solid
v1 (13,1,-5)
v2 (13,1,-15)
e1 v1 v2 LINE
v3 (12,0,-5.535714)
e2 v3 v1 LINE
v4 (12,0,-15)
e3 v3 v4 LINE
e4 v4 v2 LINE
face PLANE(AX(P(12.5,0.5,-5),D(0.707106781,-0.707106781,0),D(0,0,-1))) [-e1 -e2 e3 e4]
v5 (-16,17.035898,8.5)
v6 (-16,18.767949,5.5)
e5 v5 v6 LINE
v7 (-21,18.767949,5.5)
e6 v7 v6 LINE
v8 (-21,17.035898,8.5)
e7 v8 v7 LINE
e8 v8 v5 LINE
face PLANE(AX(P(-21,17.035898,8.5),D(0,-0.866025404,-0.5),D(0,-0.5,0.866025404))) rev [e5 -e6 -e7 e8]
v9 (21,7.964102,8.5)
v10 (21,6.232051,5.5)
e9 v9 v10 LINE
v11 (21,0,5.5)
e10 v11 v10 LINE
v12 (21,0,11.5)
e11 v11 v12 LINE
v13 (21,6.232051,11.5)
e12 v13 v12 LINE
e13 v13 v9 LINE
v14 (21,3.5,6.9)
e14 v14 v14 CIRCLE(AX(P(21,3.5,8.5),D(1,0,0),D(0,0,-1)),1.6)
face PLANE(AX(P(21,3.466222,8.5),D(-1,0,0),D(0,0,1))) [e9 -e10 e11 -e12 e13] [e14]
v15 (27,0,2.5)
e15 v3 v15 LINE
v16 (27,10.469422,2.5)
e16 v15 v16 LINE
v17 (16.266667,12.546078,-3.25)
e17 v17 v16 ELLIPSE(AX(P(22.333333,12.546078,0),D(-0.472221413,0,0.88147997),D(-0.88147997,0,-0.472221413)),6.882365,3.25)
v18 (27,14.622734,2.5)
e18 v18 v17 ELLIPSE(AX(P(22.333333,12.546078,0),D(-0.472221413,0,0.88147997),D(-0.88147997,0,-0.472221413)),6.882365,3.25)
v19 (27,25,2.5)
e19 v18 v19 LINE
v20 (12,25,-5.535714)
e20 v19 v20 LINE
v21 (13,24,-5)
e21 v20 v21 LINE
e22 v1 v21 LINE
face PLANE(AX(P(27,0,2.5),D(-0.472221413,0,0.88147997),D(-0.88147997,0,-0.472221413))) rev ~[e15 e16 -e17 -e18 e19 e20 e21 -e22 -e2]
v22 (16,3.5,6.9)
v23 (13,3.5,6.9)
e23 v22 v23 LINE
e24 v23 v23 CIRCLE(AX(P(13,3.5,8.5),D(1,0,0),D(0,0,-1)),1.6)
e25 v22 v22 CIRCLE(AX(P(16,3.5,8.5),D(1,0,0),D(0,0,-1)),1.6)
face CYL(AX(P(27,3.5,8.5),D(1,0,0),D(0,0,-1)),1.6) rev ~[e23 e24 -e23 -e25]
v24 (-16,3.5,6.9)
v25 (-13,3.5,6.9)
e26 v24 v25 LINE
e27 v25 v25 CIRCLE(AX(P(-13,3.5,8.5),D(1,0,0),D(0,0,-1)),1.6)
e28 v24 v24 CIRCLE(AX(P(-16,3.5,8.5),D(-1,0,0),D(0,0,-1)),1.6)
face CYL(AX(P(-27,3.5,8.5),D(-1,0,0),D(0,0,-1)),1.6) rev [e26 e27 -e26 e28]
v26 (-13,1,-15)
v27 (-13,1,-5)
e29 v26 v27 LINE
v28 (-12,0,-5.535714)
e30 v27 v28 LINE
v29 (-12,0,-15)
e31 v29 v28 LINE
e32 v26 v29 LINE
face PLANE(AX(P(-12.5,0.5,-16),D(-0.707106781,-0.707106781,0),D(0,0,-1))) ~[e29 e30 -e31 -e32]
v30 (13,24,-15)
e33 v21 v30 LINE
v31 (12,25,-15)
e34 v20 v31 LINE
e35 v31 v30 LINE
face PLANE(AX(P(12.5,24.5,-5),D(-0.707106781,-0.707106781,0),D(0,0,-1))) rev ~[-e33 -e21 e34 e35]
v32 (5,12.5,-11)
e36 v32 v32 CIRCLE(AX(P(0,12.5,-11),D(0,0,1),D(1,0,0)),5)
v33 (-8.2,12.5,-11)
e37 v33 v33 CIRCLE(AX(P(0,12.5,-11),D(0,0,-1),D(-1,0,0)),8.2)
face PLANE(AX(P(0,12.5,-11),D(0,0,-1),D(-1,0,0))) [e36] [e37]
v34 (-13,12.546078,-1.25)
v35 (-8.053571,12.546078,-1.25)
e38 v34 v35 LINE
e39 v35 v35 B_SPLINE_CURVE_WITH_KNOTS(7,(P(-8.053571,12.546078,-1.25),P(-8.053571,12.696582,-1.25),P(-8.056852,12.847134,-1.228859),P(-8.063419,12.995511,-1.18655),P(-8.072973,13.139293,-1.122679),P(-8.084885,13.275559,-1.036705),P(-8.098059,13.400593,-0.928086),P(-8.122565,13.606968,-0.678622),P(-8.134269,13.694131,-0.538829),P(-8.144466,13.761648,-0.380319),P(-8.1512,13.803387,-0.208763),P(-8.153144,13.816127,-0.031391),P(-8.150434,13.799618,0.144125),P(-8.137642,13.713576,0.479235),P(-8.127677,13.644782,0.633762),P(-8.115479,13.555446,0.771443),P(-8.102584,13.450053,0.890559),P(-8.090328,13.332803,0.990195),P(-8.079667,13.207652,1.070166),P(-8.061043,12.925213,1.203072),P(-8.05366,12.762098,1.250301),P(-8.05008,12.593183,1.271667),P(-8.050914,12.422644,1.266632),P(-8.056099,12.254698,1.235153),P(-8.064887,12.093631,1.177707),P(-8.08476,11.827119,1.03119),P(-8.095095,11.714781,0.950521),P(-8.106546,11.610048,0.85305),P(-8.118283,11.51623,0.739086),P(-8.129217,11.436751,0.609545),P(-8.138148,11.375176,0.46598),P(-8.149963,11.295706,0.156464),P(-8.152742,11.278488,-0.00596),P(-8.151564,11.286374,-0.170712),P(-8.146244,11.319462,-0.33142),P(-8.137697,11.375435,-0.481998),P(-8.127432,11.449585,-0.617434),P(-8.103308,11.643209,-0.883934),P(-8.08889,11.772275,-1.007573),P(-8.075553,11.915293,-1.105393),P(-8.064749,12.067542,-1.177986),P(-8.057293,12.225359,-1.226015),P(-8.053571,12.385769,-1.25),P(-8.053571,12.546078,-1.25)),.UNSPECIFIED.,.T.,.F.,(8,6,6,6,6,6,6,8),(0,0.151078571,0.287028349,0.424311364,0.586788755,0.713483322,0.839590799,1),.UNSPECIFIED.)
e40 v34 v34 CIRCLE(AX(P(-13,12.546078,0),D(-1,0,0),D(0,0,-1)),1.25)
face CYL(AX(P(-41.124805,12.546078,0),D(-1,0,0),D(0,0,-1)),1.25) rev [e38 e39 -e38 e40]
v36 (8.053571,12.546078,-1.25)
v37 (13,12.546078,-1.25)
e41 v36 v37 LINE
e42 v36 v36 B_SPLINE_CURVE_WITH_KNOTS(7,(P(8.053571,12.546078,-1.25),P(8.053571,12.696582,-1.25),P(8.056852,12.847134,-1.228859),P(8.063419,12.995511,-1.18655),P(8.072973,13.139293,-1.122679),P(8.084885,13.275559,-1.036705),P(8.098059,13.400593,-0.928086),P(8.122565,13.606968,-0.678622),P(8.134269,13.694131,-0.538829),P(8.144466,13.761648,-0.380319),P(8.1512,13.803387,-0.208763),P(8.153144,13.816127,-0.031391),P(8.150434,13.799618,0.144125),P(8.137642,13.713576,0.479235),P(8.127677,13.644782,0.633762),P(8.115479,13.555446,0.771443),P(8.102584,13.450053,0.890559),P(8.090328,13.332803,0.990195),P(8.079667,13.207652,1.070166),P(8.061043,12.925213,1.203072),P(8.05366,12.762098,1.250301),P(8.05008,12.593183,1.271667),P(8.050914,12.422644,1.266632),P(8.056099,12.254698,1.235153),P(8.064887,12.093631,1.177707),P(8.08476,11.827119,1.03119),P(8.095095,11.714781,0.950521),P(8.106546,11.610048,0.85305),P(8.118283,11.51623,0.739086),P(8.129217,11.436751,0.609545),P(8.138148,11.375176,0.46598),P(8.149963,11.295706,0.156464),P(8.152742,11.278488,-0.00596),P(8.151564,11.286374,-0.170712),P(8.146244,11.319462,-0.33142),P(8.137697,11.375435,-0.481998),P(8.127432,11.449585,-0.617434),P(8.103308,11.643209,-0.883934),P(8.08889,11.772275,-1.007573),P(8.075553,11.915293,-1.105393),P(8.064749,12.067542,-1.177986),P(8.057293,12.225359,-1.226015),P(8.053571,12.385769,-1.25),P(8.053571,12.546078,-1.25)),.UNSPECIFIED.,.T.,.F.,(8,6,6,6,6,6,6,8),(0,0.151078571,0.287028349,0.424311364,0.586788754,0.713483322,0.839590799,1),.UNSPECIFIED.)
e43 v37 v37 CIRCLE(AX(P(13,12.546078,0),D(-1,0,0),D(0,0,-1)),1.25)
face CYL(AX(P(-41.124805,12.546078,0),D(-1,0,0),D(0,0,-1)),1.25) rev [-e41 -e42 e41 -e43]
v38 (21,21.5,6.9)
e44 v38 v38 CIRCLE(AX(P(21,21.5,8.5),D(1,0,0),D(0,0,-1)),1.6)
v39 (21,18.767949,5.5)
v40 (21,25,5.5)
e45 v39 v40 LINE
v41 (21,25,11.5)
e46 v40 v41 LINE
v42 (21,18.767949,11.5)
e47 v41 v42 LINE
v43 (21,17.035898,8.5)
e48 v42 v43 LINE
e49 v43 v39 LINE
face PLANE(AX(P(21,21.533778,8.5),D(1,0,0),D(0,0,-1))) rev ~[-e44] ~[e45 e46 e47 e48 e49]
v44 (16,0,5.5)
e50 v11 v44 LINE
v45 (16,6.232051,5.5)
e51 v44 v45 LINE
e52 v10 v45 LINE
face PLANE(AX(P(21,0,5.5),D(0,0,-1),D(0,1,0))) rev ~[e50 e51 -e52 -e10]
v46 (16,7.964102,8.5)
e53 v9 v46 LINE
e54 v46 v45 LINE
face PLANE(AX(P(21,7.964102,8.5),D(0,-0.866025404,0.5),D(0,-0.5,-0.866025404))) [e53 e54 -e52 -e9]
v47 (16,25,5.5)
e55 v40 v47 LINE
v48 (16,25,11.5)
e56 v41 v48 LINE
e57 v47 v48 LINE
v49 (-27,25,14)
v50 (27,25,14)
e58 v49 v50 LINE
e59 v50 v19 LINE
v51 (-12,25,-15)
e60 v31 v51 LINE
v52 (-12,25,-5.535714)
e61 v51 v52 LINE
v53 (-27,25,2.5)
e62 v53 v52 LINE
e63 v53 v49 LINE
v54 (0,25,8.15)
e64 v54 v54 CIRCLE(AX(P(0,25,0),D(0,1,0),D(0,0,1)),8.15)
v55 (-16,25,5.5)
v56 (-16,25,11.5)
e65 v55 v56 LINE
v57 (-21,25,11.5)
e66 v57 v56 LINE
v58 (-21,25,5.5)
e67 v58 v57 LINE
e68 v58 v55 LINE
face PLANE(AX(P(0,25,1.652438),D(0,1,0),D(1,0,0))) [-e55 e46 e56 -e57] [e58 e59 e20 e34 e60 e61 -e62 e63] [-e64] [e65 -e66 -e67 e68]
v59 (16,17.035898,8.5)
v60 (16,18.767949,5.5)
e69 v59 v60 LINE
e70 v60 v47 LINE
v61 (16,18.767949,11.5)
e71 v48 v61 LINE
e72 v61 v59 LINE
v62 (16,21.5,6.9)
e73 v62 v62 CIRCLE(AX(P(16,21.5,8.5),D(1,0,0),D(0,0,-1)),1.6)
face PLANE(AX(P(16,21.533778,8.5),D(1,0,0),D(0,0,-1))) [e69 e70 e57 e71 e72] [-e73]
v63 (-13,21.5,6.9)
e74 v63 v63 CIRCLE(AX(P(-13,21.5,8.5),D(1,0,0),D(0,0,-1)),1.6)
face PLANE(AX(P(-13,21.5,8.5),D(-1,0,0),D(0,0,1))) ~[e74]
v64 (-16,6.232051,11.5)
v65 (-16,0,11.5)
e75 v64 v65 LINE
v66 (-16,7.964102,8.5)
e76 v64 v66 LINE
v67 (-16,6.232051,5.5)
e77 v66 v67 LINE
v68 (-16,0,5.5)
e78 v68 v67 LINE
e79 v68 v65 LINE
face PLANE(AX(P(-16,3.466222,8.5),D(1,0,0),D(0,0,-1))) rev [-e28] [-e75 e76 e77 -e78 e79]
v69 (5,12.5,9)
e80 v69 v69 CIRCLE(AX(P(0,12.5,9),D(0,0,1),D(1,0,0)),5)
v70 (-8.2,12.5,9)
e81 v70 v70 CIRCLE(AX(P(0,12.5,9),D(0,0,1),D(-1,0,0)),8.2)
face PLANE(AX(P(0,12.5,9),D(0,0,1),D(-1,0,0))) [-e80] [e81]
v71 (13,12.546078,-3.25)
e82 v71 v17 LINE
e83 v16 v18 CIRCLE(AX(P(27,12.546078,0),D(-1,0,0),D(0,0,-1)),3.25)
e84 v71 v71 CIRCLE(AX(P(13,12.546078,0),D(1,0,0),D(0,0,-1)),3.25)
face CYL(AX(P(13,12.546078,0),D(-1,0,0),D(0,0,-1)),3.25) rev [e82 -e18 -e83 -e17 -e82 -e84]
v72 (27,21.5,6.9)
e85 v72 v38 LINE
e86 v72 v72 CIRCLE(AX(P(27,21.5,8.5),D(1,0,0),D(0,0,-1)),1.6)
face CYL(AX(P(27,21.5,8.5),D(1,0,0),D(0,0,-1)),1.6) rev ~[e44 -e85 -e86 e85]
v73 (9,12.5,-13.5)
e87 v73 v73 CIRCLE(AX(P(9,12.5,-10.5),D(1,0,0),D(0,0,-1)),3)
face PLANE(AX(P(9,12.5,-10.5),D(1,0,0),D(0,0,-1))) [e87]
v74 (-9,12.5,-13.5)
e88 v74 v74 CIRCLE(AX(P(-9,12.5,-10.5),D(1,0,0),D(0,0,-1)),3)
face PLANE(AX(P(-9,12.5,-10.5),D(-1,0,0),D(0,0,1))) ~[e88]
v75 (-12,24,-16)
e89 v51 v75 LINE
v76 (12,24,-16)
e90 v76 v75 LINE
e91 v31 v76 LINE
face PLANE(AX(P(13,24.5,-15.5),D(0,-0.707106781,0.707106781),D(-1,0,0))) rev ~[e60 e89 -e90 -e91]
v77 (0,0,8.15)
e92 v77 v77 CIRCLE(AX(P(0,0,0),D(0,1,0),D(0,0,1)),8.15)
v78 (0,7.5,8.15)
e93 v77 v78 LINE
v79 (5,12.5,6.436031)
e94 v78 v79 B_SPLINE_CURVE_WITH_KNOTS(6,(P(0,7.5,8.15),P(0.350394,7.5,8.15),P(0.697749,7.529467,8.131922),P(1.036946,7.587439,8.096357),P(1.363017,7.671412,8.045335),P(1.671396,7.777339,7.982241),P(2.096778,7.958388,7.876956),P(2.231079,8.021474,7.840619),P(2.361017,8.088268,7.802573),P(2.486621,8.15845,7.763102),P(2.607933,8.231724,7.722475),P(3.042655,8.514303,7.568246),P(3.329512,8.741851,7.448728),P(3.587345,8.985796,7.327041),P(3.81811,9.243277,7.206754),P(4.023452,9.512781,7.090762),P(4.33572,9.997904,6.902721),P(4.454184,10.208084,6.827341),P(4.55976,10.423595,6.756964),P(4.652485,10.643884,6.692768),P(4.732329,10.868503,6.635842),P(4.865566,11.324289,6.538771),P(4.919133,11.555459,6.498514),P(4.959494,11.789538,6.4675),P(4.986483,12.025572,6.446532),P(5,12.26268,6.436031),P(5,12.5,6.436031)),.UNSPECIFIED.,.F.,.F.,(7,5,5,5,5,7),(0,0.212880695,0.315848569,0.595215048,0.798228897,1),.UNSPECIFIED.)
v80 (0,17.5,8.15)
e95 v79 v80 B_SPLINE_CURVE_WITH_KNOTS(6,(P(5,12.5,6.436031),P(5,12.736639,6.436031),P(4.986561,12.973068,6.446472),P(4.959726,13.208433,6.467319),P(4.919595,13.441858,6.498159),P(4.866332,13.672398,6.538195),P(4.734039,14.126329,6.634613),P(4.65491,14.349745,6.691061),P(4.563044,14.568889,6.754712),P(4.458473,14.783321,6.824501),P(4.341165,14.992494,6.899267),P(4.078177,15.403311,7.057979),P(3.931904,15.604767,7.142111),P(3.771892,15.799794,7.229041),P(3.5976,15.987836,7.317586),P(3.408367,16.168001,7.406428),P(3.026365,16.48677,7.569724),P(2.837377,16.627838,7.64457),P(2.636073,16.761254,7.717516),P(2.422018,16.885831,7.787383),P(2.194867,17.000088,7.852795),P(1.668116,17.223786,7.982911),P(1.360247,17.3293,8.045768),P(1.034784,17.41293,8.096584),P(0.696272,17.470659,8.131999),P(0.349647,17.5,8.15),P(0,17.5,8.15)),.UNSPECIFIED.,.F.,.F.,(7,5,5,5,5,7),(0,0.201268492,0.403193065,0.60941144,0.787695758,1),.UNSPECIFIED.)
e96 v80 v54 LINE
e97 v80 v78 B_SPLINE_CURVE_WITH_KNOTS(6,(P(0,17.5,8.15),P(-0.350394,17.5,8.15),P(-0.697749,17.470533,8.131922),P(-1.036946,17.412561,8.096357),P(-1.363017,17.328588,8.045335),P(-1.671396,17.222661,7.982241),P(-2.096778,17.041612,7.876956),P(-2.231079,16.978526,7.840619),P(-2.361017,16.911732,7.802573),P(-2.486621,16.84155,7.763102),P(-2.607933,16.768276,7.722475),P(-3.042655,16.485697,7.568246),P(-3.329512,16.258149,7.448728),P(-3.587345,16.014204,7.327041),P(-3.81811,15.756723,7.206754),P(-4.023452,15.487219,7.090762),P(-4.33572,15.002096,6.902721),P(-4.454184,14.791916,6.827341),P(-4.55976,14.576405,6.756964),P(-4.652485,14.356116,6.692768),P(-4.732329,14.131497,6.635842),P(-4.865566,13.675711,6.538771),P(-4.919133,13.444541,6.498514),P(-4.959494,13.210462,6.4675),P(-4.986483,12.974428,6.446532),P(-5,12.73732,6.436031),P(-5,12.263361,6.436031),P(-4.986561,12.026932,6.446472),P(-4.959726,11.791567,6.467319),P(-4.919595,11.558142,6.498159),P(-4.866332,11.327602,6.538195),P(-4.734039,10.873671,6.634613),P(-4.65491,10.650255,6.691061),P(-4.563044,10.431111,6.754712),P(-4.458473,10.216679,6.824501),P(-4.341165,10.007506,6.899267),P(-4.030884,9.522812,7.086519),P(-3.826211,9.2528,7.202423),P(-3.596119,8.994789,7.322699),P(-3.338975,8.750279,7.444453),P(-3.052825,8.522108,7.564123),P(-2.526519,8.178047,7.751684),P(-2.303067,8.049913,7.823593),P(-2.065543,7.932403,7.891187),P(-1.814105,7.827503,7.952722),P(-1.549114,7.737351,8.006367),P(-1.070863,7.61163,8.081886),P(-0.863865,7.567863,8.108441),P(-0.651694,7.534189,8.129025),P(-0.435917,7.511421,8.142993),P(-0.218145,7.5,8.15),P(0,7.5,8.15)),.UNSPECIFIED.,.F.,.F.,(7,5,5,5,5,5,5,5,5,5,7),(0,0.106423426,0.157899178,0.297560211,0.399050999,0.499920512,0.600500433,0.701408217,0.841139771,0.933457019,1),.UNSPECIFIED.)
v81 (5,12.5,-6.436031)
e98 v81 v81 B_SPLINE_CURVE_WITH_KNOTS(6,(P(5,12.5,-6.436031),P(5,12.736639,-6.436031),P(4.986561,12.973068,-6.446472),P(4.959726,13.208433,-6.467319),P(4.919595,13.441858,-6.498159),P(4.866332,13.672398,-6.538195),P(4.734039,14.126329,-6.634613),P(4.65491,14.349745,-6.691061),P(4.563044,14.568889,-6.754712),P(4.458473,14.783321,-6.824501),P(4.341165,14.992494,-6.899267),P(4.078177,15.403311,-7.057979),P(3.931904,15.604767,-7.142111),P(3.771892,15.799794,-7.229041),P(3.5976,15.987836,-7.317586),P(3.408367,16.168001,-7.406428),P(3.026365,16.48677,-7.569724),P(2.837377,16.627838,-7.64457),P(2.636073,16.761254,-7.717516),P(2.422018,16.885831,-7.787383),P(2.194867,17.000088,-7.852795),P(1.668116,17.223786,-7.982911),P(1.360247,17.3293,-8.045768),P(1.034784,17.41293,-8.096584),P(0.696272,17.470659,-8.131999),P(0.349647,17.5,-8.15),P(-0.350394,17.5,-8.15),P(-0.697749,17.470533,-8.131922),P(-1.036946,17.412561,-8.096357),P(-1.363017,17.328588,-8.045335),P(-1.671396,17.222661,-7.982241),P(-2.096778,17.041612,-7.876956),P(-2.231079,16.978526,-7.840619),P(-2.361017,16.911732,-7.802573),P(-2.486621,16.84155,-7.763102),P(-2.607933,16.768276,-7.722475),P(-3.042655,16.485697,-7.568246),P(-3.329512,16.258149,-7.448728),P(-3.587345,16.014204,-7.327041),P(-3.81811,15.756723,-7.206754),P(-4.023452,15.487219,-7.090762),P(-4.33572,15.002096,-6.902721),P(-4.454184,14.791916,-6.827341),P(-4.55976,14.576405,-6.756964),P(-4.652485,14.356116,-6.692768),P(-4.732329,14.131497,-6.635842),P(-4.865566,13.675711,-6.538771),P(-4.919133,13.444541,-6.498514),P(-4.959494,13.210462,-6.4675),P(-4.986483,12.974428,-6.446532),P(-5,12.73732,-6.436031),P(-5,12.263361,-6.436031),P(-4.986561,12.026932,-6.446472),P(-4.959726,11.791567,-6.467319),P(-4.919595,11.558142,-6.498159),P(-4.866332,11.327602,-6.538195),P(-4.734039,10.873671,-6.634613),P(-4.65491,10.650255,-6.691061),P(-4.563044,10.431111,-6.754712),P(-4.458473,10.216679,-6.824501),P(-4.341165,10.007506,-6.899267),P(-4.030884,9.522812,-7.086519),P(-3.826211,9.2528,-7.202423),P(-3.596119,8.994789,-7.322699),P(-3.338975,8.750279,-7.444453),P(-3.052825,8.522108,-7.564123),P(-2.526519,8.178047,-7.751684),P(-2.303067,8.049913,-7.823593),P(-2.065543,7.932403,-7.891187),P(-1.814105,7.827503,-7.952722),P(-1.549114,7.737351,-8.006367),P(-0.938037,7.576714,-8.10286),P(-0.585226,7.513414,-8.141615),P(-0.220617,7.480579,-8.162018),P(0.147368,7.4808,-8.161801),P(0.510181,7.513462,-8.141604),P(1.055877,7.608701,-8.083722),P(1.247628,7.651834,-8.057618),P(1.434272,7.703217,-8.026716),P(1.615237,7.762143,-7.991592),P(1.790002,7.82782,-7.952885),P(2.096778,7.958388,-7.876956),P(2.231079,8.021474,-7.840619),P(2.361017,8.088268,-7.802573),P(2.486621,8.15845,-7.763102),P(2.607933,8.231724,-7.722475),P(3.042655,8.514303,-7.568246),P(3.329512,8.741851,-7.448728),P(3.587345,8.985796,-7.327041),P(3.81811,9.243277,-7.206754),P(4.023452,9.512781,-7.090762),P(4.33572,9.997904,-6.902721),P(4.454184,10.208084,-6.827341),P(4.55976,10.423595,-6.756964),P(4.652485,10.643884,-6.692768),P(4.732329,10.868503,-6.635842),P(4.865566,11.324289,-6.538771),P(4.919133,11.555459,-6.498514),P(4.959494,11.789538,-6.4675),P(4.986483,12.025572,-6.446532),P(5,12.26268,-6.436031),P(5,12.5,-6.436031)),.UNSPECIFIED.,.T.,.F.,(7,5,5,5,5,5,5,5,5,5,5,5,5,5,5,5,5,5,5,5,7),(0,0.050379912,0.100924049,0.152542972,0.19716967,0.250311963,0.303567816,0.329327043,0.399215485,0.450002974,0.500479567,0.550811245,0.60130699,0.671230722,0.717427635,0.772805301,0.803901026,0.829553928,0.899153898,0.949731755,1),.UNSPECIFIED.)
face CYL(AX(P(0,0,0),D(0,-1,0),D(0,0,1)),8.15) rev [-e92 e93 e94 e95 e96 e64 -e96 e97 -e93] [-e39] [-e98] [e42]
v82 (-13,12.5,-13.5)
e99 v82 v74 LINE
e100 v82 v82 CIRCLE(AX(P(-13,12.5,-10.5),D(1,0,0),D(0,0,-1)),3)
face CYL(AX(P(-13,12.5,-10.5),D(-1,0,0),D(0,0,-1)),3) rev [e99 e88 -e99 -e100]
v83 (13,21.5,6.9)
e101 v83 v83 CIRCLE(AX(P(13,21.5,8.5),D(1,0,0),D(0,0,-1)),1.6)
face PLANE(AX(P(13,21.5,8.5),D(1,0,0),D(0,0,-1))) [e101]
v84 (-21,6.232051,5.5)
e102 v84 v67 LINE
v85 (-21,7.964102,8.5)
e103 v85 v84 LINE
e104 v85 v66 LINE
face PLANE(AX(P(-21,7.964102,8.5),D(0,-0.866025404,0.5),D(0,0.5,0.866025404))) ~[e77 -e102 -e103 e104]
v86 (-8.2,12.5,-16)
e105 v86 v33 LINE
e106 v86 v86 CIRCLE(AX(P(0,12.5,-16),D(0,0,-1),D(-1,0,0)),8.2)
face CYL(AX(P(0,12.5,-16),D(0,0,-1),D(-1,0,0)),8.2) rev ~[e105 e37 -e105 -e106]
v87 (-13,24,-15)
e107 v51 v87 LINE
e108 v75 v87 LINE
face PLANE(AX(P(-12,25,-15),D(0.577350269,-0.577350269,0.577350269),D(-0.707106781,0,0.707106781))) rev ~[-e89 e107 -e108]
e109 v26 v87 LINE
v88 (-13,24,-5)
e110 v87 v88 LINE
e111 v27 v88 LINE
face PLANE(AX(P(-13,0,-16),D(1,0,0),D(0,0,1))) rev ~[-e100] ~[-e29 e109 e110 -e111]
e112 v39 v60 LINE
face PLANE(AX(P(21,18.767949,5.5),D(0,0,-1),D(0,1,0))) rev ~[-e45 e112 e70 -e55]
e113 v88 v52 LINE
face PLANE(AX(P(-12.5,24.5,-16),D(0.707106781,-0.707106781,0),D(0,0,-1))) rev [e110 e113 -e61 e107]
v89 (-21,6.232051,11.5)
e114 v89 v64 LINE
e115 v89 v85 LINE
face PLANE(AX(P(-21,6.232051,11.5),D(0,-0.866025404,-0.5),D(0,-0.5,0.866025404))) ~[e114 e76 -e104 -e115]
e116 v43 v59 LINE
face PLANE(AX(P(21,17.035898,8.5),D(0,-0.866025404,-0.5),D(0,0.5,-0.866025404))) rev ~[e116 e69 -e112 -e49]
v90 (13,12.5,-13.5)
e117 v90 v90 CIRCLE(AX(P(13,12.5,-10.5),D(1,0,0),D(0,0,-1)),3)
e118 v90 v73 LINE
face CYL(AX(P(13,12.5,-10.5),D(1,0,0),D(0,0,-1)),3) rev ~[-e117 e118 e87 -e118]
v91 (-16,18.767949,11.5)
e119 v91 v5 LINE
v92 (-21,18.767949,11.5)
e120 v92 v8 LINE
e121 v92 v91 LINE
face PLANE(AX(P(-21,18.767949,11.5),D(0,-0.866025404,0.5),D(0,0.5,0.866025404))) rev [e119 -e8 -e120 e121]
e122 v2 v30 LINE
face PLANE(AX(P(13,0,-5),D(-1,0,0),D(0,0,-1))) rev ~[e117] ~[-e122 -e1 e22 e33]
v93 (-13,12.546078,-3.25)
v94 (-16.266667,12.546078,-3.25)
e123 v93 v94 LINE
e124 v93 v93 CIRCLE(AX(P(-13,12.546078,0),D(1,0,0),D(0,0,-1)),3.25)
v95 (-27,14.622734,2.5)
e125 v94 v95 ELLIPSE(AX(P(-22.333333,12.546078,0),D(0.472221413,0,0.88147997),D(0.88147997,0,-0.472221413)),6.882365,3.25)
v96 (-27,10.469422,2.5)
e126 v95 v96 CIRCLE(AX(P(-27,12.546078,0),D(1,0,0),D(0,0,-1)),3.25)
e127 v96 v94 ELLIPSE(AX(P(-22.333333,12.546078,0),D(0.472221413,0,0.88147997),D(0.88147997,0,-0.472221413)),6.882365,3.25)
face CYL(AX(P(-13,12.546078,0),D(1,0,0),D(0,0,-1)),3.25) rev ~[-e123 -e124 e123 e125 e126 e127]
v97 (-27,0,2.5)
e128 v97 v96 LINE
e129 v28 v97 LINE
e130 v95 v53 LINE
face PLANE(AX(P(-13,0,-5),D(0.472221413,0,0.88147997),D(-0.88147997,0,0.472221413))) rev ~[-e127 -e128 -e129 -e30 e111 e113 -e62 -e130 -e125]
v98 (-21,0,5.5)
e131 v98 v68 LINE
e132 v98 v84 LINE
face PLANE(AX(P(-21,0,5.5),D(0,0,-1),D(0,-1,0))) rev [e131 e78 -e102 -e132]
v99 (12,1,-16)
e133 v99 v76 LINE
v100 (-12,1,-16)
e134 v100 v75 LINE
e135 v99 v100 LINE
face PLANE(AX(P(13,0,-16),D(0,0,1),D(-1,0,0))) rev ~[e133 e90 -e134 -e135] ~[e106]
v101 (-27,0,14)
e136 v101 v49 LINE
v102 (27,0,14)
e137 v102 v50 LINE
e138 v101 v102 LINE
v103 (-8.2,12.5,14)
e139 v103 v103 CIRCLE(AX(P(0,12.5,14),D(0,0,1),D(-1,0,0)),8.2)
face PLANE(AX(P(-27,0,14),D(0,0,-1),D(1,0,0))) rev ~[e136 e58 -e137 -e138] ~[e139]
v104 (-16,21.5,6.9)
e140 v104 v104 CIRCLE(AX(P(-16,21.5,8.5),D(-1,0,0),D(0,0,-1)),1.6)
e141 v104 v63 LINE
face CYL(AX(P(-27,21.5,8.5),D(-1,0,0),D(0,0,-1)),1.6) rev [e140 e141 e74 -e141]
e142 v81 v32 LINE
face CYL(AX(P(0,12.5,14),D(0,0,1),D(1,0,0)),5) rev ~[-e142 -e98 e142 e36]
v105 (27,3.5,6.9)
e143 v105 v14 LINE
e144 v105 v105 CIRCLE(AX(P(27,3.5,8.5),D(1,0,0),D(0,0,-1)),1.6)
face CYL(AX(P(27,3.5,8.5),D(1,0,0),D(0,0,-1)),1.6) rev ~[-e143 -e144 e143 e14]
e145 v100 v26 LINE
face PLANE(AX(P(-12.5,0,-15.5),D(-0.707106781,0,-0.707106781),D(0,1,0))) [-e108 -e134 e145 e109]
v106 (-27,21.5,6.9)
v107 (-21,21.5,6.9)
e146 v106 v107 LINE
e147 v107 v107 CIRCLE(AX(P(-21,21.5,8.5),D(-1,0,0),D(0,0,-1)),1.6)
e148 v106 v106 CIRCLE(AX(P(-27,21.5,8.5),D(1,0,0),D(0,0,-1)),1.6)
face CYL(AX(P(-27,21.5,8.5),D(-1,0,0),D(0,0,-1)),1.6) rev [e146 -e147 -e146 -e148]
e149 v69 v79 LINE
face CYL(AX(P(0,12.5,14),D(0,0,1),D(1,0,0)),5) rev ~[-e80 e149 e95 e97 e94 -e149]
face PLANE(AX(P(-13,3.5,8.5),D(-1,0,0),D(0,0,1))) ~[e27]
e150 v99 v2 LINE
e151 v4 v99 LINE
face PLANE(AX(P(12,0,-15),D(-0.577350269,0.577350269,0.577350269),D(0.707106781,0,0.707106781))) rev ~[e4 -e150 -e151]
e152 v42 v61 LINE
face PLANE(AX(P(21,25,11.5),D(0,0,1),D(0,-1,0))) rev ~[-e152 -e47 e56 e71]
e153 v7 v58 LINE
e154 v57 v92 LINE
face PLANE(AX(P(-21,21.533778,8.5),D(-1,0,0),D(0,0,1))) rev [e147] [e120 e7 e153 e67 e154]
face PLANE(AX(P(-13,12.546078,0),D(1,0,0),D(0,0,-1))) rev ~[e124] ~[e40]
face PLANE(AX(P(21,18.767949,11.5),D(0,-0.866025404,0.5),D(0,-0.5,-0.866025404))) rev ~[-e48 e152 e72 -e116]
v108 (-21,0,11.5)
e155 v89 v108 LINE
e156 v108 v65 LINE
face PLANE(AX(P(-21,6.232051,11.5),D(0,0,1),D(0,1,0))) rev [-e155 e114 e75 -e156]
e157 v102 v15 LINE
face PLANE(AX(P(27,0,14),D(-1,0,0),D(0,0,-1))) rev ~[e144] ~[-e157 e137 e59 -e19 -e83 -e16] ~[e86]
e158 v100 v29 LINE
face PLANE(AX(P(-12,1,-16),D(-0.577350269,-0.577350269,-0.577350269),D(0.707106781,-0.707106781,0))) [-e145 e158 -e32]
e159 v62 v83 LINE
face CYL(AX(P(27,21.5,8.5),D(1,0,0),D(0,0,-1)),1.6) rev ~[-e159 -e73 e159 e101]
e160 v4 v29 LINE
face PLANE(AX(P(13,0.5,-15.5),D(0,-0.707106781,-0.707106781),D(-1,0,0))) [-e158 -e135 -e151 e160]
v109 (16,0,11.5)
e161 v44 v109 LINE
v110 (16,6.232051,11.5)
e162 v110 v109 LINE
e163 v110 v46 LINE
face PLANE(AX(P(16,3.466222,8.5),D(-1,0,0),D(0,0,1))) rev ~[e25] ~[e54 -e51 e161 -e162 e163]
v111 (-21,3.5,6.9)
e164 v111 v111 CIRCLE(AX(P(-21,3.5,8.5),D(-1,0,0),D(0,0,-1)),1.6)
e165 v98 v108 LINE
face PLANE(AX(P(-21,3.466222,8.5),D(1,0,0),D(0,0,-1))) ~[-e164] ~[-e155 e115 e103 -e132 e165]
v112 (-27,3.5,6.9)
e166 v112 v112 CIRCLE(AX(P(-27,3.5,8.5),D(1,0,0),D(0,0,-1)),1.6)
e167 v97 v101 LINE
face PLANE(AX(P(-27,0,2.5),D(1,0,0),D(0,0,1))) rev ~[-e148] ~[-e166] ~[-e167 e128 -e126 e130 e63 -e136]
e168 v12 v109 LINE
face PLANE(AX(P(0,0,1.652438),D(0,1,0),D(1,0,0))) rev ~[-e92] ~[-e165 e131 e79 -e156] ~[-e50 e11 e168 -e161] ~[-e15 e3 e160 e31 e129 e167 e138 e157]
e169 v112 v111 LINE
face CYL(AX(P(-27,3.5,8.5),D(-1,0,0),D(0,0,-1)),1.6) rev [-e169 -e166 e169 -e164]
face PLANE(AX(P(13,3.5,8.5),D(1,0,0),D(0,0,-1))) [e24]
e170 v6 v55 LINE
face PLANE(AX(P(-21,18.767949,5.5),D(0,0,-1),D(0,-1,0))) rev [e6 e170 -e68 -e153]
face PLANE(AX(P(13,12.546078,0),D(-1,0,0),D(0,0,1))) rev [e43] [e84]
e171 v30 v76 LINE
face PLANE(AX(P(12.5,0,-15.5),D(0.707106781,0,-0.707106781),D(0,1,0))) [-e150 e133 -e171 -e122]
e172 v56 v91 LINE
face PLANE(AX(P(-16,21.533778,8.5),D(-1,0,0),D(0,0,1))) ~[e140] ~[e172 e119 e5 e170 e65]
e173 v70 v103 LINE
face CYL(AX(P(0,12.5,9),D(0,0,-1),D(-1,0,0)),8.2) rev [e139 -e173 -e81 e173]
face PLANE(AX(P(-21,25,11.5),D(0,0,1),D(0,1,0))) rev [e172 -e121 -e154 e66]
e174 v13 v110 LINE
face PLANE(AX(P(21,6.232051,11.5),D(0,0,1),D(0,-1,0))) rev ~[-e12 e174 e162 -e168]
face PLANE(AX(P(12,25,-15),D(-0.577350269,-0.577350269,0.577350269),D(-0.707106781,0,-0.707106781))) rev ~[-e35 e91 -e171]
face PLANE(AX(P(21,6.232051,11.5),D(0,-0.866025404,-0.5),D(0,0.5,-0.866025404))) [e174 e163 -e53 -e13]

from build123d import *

# Parameters (mm, degrees)
SKETCH1_R               = 8.15
BOSS_EXTRUDE1_DEPTH     = 25
SKETCH2_R               = 5
CUT_EXTRUDE1_DEPTH      = 48.476309882
SKETCH3_R               = 8.2
CUT_EXTRUDE2_DEPTH      = 5
CUT_EXTRUDE3_START      = -5
SKETCH4_R               = 8.2
CUT_EXTRUDE3_DEPTH      = 5
CHAMFER1_SIZE           = 1
CUT_EXTRUDE4_DEPTH      = 41.124805358
CUT_EXTRUDE4_DEPTH_BACK = 41.124805358
SKETCH5_R               = 1.25
CUT_EXTRUDE5_START      = -13
SKETCH6_R               = 3.25
CUT_EXTRUDE5_DEPTH      = 28.124805358
SKETCH7_R               = 3
CUT_EXTRUDE6_DEPTH      = 4
SKETCH9_R               = 1.6
CUT_EXTRUDE7_DEPTH      = 14
CUT_EXTRUDE8_START      = -6
CUT_EXTRUDE8_DEPTH      = 5


with BuildPart() as part:
    # Sketch1 → Boss-Extrude1 (new body)
    with BuildSketch(Plane(origin=(0, 0, 0), x_dir=(1, 0, 0), z_dir=(0, 1, 0))):
        Polygon((-13, 14), (-13, 5), (-27, -2.5), (-27, -14), (27, -14), (27, -2.5), (13, 5), (13, 14), (13, 16), (-13, 16), align=None)
        with Locations(Location((0, 0, 0), (0, 0, 270))):
            Circle(SKETCH1_R, mode=Mode.SUBTRACT)
    extrude(amount=BOSS_EXTRUDE1_DEPTH)

    # Sketch2 → Cut-Extrude1 (cut, through all)
    with BuildSketch(Plane.XY.offset(14)):
        with Locations((0, 12.5)):
            Circle(SKETCH2_R)
    extrude(amount=-CUT_EXTRUDE1_DEPTH, mode=Mode.SUBTRACT)

    # Sketch3 → Cut-Extrude2 (cut)
    with BuildSketch(Plane(origin=(0, 0, -16), x_dir=(-1, 0, 0), z_dir=(0, 0, -1))):
        with Locations((0, 12.5)):
            Circle(SKETCH3_R)
    extrude(amount=-CUT_EXTRUDE2_DEPTH, mode=Mode.SUBTRACT)

    # Sketch4 → Cut-Extrude3 (cut)
    with BuildSketch(Plane.XY.offset(14).offset(CUT_EXTRUDE3_START)):
        with Locations(Location((0, 12.5, 0), (0, 0, 180))):
            Circle(SKETCH4_R)
    extrude(amount=CUT_EXTRUDE3_DEPTH, mode=Mode.SUBTRACT)

    # Chamfer1
    chamfer1_edges = [part.edges().sort_by_distance(p)[0] for p in [
        (-13, 0, -10.5),
        (-13, 12.5, -16),
        (13, 12.5, -16),
        (13, 25, -10.5),
        (0, 25, -16),
        (-13, 25, -10.5),
        (0, 0, -16),
        (13, 0, -10.5),
    ]]
    chamfer(chamfer1_edges, length=CHAMFER1_SIZE)

    # Sketch5 → Cut-Extrude4 (cut, two sides: drawn at the far end of the back side and taken through both)
    with BuildSketch(Plane(origin=(0, 0, 0), x_dir=(0, 0, -1), z_dir=(1, 0, 0)).offset(-CUT_EXTRUDE4_DEPTH_BACK)):
        with Locations((0, 12.546077806)):
            Circle(SKETCH5_R)
    extrude(amount=CUT_EXTRUDE4_DEPTH + CUT_EXTRUDE4_DEPTH_BACK, mode=Mode.SUBTRACT)

    # Sketch6 → Cut-Extrude5 (cut, through all)
    with BuildSketch(Plane(origin=(0, 0, 0), x_dir=(0, 0, -1), z_dir=(1, 0, 0)).offset(CUT_EXTRUDE5_START)):
        with Locations((0, 12.546077806)):
            Circle(SKETCH6_R)
    cut_extrude5 = extrude(amount=-CUT_EXTRUDE5_DEPTH, mode=Mode.SUBTRACT)

    # Mirror1: Cut-Extrude5 across plane
    add(cut_extrude5.mirror(Plane(origin=(0, 0, 0), x_dir=(0, 0, 1), z_dir=(1, 0, 0))), mode=Mode.SUBTRACT)

    # Sketch7 → Cut-Extrude6 (cut)
    with BuildSketch(Plane(origin=(13, 0, 0), x_dir=(0, 0, -1), z_dir=(1, 0, 0))):
        with Locations((10.5, 12.5)):
            Circle(SKETCH7_R)
    cut_extrude6 = extrude(amount=-CUT_EXTRUDE6_DEPTH, mode=Mode.SUBTRACT)

    # Sketch9 → Cut-Extrude7 (cut)
    with BuildSketch(Plane(origin=(27, 0, 0), x_dir=(0, 0, -1), z_dir=(1, 0, 0))):
        with Locations((-8.5, 21.5)):
            Circle(SKETCH9_R)
        with Locations((-8.5, 3.5)):
            Circle(SKETCH9_R)
    cut_extrude7 = extrude(amount=-CUT_EXTRUDE7_DEPTH, mode=Mode.SUBTRACT)

    # Sketch10 → Cut-Extrude8 (cut)
    with BuildSketch(Plane(origin=(27, 0, 0), x_dir=(0, 0, -1), z_dir=(1, 0, 0)).offset(CUT_EXTRUDE8_START)):
        Polygon((-11.5, 19.767949192), (-11.5, 18.767949192), (-8.5, 17.035898385), (-5.5, 18.767949192), (-5.5, 19.767949192), (-5.5, 23.232050808), (-5.5, 25), (-11.5, 25), (-11.5, 23.232050808), align=None)
        Polygon((-11.5, 0), (-11.5, 1.767949192), (-11.5, 5.232050808), (-11.5, 6.232050808), (-8.5, 7.964101615), (-5.5, 6.232050808), (-5.5, 5.232050808), (-5.5, 1.767949192), (-5.5, 0), align=None)
    cut_extrude8 = extrude(amount=-CUT_EXTRUDE8_DEPTH, mode=Mode.SUBTRACT)

    # Mirror2: Cut-Extrude6, Cut-Extrude7, Cut-Extrude8 across plane
    add(cut_extrude6.mirror(Plane(origin=(0, 0, 0), x_dir=(0, 0, 1), z_dir=(1, 0, 0))), mode=Mode.SUBTRACT)
    add(cut_extrude7.mirror(Plane(origin=(0, 0, 0), x_dir=(0, 0, 1), z_dir=(1, 0, 0))), mode=Mode.SUBTRACT)
    add(cut_extrude8.mirror(Plane(origin=(0, 0, 0), x_dir=(0, 0, 1), z_dir=(1, 0, 0))), mode=Mode.SUBTRACT)


solid = part.part
